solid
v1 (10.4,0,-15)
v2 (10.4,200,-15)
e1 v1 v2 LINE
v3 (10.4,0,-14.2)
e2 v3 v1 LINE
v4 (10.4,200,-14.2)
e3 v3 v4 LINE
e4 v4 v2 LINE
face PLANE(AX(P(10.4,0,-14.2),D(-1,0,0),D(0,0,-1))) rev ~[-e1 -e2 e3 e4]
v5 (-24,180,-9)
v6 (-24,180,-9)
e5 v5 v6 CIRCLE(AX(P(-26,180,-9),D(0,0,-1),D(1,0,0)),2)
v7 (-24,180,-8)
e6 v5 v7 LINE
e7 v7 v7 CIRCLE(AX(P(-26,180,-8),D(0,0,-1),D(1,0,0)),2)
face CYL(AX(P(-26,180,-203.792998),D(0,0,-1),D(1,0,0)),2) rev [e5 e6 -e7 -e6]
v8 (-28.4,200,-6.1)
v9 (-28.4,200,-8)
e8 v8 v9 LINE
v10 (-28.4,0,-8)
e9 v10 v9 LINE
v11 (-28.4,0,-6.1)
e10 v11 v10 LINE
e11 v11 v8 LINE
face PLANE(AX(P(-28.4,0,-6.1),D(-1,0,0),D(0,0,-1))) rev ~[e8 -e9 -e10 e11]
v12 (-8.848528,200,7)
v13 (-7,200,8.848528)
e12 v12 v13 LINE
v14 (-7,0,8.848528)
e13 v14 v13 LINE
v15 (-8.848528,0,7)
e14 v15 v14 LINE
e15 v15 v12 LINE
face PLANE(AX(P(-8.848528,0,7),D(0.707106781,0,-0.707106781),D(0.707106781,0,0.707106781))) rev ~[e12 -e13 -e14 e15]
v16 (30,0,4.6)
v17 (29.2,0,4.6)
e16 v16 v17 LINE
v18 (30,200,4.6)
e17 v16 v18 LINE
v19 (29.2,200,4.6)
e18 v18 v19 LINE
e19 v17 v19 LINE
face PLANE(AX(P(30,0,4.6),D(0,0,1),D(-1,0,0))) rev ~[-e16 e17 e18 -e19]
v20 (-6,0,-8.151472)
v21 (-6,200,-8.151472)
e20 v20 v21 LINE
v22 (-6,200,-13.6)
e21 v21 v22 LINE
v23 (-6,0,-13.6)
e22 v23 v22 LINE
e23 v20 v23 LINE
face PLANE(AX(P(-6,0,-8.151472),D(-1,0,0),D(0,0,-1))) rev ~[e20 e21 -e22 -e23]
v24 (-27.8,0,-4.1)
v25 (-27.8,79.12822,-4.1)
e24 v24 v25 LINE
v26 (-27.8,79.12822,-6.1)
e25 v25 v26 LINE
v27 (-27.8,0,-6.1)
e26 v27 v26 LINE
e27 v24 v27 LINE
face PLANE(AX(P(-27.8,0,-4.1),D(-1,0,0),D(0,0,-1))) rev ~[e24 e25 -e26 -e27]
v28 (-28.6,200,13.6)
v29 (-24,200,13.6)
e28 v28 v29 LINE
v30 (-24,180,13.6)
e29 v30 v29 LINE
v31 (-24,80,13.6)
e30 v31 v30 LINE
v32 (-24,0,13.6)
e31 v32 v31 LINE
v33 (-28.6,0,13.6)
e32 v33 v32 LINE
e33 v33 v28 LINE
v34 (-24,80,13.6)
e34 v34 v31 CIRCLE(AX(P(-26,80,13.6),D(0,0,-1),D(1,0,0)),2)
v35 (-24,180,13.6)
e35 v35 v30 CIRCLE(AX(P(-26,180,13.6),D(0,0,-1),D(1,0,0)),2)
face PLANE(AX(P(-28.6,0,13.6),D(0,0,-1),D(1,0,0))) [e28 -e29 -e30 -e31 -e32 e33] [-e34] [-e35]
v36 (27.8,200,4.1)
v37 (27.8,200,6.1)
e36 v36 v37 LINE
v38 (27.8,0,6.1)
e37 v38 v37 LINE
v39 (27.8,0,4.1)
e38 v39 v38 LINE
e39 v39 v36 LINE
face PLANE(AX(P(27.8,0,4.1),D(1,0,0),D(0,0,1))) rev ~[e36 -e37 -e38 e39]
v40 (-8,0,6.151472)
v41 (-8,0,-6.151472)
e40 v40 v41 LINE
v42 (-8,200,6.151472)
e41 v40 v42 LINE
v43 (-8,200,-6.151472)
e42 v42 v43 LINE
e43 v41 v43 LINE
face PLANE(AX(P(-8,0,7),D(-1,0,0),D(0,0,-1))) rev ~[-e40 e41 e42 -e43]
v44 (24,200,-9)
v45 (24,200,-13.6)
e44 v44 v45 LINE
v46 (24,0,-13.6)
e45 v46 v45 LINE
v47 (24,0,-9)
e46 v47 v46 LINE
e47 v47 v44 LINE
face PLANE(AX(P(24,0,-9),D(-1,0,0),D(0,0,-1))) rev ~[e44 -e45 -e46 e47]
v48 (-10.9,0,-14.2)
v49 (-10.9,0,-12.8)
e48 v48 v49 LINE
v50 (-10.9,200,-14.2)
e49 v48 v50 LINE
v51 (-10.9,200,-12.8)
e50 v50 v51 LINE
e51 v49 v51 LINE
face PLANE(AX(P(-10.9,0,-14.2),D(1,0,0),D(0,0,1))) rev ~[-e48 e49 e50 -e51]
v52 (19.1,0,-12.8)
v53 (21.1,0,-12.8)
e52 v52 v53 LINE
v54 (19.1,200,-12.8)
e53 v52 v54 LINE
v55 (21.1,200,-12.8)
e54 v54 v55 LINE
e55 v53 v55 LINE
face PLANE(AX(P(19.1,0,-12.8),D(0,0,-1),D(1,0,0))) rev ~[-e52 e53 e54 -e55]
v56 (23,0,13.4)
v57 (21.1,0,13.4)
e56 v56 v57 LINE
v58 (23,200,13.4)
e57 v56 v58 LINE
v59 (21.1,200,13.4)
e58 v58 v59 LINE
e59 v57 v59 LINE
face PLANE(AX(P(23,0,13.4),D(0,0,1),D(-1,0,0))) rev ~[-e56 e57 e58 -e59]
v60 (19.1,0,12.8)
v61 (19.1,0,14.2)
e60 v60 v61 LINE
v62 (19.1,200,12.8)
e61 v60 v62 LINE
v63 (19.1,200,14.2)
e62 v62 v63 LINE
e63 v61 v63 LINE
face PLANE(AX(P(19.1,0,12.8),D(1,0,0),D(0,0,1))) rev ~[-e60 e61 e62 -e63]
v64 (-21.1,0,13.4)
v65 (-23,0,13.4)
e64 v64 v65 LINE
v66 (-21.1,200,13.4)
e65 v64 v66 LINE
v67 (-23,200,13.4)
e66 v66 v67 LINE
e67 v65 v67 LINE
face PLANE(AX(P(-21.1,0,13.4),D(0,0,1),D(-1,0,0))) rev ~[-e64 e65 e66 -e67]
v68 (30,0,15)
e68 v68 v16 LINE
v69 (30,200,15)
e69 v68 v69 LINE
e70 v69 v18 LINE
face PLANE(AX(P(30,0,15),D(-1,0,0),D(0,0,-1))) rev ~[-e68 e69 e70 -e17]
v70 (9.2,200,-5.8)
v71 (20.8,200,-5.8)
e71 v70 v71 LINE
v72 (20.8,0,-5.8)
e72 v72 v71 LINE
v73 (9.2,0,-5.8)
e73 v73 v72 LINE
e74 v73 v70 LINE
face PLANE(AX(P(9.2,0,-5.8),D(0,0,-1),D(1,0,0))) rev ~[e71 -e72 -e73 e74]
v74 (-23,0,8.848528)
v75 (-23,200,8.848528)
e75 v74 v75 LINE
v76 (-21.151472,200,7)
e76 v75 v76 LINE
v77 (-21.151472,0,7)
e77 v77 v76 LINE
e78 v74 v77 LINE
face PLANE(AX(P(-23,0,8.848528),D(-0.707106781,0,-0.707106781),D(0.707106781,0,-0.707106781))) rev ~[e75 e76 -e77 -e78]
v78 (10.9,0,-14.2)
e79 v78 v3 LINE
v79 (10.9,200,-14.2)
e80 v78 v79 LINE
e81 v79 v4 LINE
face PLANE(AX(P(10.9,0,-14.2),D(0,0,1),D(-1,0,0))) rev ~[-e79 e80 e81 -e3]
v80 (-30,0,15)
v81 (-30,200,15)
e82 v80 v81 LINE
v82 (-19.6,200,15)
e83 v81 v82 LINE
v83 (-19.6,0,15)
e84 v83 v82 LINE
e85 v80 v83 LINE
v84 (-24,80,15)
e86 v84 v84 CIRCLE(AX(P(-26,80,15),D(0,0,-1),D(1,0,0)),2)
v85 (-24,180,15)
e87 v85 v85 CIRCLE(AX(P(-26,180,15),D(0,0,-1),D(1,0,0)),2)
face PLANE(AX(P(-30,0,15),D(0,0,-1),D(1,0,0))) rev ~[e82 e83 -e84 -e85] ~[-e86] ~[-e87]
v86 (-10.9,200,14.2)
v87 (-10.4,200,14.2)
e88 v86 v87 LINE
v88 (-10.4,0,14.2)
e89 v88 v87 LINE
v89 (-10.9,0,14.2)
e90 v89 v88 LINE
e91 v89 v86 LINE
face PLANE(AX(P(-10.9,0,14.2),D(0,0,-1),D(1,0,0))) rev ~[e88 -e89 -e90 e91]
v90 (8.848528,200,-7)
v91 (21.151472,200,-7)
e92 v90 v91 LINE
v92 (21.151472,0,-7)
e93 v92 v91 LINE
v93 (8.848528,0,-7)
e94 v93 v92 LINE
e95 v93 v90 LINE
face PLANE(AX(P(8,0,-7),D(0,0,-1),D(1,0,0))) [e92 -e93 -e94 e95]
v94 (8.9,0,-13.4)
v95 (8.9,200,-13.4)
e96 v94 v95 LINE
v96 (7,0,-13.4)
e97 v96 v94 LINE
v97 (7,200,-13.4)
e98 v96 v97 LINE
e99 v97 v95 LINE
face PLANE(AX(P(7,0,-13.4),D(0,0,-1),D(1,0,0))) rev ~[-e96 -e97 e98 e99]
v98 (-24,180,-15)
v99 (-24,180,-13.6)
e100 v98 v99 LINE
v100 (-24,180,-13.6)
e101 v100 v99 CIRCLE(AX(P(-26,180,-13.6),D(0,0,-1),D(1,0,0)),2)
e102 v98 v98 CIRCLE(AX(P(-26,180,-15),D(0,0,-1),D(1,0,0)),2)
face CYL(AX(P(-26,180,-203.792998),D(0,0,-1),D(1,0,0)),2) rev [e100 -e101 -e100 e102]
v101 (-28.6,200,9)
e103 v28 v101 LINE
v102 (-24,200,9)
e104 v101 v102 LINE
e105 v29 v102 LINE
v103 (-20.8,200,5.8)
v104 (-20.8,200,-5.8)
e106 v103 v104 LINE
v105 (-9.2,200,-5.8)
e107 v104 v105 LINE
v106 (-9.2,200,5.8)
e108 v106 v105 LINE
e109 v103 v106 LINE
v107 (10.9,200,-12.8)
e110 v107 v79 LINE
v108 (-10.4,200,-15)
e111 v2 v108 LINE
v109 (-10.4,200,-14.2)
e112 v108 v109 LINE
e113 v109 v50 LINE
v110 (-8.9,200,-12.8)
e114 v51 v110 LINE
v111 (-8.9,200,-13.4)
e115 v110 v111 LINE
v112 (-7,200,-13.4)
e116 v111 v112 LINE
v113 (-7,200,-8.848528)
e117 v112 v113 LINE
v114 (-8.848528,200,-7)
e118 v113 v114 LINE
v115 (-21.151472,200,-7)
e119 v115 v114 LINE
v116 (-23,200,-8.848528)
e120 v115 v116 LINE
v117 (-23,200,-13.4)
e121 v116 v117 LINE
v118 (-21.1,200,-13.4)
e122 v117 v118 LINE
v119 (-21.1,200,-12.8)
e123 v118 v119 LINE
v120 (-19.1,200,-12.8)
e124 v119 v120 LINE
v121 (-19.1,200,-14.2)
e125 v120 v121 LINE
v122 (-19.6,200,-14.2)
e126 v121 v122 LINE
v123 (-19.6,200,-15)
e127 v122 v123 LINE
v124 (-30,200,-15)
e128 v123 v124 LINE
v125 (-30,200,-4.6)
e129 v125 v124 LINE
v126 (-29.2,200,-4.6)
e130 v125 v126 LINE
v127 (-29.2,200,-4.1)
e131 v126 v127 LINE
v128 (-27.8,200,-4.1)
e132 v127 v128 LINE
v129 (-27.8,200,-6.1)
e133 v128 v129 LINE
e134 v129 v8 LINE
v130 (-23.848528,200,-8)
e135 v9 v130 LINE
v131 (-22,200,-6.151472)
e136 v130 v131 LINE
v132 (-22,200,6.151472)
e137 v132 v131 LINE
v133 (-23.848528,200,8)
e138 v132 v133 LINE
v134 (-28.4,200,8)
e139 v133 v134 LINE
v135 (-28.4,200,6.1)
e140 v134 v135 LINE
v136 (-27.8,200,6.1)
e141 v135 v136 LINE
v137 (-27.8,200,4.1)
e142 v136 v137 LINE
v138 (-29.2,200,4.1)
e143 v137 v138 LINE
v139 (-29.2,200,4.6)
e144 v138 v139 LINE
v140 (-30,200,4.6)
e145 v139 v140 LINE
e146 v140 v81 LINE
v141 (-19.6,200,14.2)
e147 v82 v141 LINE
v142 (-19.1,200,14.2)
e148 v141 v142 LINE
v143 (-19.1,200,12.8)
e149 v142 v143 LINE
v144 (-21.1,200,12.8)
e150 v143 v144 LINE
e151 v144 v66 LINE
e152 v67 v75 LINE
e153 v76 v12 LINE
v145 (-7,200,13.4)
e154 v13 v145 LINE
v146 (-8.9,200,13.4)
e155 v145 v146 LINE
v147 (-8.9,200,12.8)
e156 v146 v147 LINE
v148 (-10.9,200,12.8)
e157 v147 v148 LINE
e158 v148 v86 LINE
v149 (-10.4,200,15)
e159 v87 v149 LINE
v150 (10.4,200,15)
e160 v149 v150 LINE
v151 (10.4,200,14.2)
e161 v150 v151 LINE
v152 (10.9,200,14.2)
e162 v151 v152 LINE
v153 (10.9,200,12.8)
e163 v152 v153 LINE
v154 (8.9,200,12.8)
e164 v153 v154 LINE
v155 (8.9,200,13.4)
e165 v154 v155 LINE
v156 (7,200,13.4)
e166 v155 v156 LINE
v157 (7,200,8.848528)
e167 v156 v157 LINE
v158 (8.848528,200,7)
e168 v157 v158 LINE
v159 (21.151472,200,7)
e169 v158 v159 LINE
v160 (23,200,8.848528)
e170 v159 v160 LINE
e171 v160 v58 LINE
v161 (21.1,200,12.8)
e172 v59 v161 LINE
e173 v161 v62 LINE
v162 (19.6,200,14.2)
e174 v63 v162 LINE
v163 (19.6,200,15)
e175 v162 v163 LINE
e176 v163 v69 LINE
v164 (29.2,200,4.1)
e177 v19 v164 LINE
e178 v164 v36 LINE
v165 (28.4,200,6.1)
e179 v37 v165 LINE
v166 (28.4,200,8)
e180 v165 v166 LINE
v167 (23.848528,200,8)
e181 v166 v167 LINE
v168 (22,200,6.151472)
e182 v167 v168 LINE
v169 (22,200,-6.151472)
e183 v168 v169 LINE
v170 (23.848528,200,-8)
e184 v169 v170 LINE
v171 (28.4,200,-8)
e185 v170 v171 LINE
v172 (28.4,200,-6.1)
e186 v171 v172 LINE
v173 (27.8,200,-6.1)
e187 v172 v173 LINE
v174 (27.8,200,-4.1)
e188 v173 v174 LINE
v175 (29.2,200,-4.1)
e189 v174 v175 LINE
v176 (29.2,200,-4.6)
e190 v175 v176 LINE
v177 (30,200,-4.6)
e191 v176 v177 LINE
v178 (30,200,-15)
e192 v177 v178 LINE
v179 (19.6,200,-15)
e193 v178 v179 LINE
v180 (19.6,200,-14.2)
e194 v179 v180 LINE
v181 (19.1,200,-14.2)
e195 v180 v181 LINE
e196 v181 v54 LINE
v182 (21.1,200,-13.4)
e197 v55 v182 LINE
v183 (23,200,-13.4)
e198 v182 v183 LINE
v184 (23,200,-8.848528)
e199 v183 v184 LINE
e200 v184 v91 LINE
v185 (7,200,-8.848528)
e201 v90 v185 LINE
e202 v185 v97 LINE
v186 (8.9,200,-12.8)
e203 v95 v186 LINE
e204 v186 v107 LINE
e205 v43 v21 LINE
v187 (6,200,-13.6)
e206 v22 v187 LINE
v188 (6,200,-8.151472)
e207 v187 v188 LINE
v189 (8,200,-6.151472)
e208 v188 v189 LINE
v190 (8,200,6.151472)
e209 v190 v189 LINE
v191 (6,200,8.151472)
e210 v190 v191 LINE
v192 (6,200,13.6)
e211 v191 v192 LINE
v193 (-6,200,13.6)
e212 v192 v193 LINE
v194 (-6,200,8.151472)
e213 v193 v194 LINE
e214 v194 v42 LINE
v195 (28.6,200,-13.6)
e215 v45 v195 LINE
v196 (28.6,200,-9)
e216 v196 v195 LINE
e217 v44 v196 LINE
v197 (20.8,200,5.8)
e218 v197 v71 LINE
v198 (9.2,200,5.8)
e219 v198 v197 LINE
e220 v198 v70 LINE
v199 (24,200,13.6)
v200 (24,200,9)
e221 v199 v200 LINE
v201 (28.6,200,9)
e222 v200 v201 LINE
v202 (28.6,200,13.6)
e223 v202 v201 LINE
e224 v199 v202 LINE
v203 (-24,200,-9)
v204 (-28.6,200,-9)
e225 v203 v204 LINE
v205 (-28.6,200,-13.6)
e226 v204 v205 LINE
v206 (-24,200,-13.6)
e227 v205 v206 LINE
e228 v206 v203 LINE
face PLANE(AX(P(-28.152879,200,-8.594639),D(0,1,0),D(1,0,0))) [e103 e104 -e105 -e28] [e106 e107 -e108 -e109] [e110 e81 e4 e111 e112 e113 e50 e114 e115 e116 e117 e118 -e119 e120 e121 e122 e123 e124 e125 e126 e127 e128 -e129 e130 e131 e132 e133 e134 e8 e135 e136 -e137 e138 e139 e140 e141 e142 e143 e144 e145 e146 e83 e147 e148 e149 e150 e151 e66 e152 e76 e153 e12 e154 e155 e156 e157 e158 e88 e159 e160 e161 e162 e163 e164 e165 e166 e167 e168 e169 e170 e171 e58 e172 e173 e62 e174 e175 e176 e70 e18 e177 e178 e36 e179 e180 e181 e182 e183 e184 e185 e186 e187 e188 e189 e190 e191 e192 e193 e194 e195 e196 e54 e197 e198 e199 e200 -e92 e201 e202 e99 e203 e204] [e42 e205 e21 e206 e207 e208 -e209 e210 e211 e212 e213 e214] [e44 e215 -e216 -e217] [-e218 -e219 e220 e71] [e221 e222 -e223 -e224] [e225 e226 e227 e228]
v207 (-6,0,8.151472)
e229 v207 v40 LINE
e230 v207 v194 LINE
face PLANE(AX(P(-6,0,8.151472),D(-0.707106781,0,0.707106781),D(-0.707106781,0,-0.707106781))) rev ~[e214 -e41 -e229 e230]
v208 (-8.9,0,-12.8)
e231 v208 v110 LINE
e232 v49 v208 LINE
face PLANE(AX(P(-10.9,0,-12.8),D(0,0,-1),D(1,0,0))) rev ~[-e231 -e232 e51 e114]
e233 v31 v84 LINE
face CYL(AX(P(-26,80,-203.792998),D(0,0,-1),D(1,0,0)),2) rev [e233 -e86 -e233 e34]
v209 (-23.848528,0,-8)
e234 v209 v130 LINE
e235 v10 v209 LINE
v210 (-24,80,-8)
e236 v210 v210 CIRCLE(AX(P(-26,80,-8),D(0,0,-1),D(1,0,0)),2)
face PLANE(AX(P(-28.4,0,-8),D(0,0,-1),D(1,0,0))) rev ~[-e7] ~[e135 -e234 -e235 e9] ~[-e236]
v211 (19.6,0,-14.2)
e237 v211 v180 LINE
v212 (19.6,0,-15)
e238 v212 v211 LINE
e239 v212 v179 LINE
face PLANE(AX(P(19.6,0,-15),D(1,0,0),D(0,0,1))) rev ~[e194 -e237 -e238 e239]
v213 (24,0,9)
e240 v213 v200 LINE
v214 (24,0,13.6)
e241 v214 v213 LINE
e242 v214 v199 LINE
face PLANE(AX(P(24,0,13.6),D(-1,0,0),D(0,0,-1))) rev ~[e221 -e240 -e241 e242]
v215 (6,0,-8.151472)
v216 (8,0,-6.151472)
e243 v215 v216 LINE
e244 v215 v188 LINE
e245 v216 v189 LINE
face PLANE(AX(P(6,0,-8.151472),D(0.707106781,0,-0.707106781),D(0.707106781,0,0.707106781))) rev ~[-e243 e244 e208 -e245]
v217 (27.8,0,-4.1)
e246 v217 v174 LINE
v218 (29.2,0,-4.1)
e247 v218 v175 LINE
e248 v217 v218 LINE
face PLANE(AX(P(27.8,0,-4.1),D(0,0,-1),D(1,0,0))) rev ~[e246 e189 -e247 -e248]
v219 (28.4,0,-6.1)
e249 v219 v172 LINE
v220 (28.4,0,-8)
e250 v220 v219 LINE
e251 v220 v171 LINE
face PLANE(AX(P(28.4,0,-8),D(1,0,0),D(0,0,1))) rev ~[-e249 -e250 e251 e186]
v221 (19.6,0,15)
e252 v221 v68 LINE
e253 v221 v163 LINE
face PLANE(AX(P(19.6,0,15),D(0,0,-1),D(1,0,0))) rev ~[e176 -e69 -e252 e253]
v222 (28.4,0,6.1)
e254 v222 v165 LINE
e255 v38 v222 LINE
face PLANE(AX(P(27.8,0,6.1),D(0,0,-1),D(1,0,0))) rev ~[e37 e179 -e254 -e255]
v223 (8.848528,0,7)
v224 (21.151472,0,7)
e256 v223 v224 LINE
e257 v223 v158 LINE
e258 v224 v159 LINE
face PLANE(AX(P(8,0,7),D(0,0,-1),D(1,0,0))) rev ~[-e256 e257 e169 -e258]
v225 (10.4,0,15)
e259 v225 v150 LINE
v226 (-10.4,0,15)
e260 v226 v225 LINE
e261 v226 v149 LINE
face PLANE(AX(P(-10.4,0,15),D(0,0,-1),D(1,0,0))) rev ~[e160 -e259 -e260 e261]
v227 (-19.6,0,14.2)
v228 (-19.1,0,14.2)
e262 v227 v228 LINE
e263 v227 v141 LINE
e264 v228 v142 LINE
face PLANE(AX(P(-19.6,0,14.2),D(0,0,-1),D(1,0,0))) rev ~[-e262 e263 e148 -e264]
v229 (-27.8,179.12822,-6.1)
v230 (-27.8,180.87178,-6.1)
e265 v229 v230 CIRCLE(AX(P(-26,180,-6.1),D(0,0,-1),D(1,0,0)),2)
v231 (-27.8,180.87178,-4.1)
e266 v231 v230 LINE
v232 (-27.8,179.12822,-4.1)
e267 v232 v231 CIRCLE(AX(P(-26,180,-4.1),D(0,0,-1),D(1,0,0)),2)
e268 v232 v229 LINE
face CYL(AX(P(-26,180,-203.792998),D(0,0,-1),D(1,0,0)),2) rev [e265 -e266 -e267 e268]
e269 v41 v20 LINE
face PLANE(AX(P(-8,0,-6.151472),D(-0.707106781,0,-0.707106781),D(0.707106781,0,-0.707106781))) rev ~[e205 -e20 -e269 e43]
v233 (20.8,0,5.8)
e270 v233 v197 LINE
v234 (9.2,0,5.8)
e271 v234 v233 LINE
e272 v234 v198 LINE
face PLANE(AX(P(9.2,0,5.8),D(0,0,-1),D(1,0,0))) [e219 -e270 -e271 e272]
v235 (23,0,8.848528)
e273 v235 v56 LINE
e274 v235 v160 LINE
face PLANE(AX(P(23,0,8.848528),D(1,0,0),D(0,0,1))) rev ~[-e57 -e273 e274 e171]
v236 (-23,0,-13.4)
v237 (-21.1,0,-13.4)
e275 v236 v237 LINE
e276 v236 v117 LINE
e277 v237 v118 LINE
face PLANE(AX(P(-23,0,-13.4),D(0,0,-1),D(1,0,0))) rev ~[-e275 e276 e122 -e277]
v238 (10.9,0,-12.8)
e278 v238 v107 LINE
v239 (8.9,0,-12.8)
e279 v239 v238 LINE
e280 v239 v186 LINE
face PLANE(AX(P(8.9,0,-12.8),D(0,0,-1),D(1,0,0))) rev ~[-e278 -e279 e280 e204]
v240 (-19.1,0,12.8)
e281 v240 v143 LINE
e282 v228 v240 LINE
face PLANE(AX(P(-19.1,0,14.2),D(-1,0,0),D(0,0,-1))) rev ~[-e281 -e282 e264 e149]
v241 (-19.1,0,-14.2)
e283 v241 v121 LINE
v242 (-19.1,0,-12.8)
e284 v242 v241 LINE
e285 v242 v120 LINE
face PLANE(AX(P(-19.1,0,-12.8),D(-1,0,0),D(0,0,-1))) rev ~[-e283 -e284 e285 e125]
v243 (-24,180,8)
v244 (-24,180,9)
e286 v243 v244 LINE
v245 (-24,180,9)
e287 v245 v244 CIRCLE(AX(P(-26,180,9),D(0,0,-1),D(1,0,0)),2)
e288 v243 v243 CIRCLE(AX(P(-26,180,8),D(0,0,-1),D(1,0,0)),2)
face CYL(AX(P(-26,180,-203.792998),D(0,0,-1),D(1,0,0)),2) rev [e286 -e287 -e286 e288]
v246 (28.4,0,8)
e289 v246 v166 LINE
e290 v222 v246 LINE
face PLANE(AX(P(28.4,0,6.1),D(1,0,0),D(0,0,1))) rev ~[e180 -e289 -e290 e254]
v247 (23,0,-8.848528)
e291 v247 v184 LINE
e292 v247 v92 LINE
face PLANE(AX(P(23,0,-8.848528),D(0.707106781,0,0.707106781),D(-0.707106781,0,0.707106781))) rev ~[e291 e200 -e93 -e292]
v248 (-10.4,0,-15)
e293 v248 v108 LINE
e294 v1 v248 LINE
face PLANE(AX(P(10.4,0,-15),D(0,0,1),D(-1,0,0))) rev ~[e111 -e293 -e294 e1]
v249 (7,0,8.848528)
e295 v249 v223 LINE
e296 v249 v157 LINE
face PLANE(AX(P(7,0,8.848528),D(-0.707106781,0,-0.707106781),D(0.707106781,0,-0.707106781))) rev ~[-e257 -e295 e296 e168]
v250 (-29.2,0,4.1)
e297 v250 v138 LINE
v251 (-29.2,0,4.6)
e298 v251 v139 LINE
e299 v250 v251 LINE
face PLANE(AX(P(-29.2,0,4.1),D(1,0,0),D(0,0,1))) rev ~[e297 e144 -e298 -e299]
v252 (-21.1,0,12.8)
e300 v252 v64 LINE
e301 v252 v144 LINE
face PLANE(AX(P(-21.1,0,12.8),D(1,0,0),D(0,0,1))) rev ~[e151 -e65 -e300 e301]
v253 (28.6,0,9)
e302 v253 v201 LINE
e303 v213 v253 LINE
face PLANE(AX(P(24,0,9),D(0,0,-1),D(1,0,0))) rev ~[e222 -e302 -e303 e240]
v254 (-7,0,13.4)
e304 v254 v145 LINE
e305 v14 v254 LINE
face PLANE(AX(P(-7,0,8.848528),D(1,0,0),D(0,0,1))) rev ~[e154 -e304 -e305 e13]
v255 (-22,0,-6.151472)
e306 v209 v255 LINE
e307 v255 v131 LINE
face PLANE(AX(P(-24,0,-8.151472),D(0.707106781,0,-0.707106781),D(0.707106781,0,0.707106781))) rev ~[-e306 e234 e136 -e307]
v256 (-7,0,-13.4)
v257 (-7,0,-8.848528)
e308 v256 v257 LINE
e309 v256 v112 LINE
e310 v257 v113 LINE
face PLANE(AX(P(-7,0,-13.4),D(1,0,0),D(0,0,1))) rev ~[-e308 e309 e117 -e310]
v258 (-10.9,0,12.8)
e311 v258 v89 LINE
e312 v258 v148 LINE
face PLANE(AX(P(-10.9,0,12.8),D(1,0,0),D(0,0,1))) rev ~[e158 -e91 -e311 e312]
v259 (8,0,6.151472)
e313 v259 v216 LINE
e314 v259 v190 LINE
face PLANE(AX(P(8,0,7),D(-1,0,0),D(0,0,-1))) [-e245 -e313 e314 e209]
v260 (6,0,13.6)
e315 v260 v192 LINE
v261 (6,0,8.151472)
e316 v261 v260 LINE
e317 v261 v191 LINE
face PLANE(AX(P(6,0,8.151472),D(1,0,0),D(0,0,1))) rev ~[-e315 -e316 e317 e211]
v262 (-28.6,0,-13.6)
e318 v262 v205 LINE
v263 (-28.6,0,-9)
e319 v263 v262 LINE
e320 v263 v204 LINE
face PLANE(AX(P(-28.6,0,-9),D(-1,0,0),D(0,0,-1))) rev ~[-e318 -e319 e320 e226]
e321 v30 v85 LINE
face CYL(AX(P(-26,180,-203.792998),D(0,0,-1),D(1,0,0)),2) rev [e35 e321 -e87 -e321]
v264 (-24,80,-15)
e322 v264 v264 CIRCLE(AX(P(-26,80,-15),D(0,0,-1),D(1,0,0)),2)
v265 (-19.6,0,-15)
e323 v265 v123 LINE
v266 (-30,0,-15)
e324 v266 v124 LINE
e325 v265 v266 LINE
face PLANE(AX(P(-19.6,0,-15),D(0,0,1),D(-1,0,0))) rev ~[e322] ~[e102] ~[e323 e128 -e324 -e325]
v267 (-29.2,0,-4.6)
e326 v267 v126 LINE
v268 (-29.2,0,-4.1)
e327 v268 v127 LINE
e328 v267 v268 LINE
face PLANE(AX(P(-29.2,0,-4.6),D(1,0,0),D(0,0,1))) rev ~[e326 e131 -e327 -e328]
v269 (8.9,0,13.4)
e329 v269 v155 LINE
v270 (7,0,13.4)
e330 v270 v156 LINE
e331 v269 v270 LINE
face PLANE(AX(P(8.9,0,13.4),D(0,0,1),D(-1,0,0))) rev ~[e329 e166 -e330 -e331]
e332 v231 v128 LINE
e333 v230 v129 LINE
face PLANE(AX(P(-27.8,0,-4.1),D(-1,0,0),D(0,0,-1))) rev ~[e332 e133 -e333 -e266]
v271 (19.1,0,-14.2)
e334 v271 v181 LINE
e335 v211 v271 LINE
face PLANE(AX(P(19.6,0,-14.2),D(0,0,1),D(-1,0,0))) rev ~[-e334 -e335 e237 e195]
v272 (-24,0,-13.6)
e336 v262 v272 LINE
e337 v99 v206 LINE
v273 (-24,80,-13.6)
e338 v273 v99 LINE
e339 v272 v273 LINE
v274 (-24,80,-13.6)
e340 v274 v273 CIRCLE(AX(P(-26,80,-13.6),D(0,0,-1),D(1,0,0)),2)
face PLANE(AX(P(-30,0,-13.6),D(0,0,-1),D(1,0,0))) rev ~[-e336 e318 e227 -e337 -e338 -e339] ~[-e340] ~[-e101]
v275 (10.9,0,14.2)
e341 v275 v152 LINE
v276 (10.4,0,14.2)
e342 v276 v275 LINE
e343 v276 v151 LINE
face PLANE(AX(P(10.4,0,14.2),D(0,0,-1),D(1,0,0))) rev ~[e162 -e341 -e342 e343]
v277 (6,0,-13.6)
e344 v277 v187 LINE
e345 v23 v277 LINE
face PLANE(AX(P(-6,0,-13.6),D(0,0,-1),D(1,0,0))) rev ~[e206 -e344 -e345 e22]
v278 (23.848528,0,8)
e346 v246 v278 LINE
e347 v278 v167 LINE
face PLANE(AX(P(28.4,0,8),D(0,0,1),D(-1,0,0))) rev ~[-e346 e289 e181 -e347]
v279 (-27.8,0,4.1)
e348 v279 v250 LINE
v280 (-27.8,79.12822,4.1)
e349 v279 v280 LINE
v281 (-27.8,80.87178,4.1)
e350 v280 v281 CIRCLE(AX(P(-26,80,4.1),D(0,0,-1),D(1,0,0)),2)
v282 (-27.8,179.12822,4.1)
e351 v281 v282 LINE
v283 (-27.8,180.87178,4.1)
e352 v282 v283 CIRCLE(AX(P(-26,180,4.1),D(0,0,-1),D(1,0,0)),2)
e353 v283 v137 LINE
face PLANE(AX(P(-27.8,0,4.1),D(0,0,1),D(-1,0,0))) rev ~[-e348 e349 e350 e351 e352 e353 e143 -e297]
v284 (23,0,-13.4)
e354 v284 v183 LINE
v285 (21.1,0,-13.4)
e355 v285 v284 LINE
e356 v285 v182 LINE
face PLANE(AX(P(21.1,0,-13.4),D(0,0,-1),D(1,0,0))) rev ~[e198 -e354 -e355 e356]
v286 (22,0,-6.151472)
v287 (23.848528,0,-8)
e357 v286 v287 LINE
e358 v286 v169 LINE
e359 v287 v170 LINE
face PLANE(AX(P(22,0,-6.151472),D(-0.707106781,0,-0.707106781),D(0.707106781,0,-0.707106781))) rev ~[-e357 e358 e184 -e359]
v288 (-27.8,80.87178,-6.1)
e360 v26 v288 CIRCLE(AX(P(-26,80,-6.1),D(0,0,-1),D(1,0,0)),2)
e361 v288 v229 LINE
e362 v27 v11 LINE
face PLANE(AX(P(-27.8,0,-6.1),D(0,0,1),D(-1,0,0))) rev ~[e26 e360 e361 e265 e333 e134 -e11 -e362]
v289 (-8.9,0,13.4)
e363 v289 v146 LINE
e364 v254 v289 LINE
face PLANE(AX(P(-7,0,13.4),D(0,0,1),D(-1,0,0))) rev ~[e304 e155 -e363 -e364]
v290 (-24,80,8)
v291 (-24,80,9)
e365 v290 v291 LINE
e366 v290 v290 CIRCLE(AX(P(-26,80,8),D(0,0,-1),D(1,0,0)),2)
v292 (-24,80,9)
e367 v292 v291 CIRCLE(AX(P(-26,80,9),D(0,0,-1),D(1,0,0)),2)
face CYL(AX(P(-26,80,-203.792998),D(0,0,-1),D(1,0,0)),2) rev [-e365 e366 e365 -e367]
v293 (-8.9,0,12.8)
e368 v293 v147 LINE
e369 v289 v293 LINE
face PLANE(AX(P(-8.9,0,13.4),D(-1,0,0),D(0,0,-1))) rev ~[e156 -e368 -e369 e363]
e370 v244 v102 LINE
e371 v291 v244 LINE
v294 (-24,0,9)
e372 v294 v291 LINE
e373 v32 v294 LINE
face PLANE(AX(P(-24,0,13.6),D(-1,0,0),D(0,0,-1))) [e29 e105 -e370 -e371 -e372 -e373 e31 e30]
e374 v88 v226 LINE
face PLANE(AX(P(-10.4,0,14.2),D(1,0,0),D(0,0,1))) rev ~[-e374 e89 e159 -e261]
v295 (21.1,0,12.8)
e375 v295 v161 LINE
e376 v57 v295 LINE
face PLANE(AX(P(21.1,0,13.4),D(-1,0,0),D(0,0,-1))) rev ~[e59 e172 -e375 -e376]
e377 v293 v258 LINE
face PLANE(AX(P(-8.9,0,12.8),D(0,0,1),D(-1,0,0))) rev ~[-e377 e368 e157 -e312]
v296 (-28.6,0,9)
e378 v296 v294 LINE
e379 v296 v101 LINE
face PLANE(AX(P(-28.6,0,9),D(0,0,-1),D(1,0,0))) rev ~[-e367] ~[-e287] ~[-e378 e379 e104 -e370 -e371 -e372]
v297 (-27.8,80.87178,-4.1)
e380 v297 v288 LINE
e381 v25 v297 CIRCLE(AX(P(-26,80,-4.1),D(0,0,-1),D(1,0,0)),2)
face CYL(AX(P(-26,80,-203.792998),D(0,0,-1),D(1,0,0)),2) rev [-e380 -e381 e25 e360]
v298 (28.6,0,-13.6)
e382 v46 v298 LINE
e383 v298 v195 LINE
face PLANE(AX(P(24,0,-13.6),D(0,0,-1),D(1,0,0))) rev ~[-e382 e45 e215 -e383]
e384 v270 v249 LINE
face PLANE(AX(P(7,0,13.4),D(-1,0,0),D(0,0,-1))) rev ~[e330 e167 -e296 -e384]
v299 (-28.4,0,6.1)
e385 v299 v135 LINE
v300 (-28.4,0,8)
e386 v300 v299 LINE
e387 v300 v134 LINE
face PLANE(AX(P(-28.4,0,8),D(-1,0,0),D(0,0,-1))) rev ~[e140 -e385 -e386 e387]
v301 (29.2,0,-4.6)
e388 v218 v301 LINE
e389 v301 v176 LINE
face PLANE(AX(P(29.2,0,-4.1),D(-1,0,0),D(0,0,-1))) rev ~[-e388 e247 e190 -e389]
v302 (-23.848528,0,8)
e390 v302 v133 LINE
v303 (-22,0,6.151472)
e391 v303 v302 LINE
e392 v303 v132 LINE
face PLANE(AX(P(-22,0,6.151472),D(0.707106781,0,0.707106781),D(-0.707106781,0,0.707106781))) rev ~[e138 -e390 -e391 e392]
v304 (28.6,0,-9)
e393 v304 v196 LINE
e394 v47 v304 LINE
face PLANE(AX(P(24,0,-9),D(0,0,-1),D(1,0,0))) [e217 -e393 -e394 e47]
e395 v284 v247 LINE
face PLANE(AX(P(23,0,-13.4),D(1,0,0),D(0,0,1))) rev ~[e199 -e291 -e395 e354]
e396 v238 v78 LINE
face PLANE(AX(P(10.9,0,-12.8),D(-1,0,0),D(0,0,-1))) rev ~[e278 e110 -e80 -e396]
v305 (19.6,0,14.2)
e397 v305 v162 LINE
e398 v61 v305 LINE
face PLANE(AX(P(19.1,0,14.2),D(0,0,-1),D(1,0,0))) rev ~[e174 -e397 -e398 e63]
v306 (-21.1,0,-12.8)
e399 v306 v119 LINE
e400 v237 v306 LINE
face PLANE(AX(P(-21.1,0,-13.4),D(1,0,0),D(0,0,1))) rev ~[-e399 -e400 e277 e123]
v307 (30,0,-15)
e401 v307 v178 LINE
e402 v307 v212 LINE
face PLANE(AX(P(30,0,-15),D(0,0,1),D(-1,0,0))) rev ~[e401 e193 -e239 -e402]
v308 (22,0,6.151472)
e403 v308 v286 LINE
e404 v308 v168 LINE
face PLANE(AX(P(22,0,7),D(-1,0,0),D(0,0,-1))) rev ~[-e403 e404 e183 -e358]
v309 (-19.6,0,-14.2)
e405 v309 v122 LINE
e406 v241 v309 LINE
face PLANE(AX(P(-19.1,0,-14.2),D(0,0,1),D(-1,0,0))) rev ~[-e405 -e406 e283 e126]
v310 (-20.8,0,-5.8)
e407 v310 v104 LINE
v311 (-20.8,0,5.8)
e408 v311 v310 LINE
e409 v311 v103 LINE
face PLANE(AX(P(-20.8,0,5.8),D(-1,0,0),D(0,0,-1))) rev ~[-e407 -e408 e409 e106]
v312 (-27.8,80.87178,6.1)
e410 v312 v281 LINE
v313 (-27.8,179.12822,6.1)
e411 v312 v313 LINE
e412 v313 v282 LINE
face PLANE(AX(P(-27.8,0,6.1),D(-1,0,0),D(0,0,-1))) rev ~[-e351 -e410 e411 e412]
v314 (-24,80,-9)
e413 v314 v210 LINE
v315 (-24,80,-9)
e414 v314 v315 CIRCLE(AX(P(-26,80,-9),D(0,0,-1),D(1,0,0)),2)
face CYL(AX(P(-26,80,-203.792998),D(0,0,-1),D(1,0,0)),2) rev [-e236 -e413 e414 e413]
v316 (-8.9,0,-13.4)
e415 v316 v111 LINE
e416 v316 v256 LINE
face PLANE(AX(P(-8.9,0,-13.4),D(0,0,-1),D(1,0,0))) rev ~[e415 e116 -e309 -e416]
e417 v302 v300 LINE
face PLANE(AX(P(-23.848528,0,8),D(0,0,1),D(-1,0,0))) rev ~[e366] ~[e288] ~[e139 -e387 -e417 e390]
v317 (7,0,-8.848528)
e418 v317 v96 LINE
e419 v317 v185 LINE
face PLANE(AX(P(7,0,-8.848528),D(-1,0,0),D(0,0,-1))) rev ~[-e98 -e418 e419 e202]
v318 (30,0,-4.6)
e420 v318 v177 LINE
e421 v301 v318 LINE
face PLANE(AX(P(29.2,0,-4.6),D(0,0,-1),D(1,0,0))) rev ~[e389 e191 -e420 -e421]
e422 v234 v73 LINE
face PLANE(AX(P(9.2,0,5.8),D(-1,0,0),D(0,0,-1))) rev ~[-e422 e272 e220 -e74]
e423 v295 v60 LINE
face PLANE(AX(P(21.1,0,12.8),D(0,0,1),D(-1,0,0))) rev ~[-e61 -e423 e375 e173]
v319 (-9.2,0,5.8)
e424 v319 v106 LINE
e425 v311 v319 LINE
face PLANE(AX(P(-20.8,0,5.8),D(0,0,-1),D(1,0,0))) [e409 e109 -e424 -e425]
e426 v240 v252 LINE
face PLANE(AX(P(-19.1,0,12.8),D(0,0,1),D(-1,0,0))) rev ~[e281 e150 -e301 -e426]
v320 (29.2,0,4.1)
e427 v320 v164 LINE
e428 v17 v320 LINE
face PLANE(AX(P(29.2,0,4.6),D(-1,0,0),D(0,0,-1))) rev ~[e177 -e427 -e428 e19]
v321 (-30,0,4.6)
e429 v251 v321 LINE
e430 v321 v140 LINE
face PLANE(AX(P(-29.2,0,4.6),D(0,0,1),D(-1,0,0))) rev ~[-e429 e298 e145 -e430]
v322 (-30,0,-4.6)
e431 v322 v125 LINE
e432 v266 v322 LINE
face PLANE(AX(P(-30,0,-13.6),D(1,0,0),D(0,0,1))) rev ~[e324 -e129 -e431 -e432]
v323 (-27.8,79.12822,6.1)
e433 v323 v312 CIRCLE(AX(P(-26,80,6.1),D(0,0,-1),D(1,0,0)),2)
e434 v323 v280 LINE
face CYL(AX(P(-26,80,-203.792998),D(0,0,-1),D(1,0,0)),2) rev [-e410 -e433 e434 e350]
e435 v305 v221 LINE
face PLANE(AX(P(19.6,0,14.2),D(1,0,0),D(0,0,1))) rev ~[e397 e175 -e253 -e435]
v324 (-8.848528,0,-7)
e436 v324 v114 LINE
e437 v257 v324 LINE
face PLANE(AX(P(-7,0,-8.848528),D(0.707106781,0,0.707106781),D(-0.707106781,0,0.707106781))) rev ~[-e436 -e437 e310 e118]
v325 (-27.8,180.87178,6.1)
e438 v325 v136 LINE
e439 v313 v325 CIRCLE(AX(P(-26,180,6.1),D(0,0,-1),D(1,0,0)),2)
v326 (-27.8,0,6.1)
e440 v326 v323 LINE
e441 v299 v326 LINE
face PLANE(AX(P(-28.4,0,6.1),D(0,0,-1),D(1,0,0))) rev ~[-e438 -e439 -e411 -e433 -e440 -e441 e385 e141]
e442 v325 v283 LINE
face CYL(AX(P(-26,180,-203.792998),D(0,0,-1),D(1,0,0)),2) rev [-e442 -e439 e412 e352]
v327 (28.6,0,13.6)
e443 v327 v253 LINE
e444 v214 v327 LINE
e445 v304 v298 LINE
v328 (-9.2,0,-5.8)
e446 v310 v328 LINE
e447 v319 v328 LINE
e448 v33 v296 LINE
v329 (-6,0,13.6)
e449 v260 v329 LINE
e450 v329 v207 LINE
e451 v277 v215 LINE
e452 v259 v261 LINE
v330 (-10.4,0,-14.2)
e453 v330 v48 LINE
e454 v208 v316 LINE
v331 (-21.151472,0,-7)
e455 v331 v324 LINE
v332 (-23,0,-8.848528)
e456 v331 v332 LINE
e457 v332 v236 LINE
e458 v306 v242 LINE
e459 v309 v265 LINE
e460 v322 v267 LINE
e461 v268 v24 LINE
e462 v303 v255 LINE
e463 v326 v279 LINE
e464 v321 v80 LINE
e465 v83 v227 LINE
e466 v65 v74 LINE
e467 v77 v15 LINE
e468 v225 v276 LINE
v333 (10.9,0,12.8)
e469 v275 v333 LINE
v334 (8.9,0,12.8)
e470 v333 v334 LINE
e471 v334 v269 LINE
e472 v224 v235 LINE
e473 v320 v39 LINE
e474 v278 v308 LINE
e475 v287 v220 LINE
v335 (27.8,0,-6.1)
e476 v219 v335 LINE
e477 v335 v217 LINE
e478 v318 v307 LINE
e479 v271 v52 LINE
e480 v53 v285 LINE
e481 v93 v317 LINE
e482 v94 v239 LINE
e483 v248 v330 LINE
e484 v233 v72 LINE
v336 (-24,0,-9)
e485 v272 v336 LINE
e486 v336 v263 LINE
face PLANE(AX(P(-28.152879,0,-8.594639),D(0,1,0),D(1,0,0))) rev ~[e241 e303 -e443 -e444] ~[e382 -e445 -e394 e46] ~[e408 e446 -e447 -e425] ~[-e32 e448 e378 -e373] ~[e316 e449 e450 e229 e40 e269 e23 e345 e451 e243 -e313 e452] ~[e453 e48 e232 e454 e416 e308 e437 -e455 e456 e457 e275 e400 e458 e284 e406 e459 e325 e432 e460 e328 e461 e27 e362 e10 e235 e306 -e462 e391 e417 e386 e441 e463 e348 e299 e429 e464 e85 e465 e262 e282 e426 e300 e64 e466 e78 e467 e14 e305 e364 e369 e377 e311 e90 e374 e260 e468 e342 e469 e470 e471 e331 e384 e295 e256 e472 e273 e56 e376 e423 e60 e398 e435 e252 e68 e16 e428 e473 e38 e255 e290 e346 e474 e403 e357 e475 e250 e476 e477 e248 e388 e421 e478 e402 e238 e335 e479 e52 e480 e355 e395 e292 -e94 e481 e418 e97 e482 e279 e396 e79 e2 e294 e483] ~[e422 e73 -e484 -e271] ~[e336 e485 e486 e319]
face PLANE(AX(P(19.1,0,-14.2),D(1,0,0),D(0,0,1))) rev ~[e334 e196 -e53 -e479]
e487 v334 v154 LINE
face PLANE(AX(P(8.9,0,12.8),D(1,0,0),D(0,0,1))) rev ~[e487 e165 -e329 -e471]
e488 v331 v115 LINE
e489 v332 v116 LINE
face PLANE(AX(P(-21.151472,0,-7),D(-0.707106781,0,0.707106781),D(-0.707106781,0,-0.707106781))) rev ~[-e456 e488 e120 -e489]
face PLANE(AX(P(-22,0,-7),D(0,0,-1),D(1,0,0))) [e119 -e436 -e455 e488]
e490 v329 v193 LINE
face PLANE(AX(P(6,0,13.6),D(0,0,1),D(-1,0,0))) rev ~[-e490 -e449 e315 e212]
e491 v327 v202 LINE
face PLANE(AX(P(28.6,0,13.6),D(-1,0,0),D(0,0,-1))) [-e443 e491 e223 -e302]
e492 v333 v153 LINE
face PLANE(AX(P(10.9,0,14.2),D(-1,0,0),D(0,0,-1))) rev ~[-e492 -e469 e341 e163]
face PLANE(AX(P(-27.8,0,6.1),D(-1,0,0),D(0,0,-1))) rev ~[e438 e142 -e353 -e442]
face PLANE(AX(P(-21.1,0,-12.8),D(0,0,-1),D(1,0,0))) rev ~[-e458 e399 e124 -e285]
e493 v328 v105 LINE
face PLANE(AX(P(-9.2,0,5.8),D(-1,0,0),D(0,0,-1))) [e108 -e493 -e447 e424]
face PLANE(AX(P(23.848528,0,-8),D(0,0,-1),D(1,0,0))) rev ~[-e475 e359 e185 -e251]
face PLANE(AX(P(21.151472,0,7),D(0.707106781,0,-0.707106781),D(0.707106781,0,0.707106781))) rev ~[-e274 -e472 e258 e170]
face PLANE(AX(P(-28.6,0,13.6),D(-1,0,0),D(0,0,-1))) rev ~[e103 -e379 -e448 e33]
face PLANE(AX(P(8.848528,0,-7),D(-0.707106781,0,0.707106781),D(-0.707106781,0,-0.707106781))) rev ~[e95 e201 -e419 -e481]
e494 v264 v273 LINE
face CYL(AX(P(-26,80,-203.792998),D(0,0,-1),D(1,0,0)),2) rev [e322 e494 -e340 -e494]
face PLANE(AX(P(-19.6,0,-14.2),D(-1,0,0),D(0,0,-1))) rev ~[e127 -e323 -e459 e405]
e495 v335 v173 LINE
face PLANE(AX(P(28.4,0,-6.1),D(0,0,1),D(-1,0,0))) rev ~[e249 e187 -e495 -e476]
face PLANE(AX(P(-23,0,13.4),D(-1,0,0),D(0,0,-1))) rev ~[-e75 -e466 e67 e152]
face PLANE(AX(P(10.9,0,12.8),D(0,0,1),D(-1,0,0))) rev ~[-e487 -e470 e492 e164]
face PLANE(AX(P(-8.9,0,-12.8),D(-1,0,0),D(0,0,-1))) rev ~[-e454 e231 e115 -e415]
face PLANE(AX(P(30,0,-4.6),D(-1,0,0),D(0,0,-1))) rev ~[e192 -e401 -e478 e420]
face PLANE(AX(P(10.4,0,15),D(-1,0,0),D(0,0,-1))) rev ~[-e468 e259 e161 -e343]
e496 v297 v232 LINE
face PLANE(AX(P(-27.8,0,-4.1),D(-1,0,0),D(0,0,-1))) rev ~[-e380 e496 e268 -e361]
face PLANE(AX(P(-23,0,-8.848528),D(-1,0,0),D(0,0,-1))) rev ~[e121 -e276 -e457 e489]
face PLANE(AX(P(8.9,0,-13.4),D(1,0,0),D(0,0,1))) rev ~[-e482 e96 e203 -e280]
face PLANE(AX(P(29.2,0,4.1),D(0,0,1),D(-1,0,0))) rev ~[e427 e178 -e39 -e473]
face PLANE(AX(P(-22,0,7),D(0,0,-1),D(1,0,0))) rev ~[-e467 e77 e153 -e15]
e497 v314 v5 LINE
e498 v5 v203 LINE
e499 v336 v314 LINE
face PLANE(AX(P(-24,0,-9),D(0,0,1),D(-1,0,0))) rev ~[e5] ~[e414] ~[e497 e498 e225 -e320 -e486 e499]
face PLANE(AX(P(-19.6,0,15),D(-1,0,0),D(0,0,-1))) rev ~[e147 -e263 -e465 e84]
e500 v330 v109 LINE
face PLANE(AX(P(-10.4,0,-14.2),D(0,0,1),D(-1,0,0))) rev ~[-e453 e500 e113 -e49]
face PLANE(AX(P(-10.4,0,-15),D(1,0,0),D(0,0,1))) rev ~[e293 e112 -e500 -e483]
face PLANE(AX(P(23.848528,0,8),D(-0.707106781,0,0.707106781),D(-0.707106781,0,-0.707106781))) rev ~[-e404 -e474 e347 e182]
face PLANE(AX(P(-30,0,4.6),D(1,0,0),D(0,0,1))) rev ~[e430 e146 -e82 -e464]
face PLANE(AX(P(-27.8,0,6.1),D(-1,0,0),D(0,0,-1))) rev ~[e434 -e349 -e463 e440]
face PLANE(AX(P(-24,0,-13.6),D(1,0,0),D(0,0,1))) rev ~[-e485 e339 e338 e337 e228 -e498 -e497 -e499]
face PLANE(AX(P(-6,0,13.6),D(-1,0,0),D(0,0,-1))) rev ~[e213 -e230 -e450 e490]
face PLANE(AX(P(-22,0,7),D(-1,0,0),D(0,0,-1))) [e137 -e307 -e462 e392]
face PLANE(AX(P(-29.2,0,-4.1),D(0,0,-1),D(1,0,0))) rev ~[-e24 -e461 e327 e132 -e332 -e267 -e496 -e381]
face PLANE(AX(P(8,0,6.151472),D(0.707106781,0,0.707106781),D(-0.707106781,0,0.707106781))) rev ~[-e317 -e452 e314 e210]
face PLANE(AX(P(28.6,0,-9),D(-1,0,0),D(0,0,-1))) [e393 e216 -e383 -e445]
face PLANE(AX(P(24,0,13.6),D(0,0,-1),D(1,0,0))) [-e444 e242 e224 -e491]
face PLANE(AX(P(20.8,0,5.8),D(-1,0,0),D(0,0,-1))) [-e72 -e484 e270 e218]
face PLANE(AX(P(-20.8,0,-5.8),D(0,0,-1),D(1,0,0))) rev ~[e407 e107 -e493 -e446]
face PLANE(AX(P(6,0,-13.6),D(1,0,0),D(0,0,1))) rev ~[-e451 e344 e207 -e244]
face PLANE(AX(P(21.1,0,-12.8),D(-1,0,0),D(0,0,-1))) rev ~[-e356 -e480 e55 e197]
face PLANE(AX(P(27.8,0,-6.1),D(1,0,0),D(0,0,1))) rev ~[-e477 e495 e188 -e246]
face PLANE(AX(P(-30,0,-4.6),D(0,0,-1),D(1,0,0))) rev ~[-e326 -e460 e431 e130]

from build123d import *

# Parameters (mm, degrees)
SKETCH_1_W               = 14
SKETCH_1_H               = 14
SKETCH_1_W_2             = 11.6
SKETCH_1_H_2             = 11.6
SKETCH_1_W_3             = 4.6
SKETCH_1_H_3             = 4.6
EXTRUDE_2_DEPTH          = 200
CUT_EXTRUDE_1_DEPTH      = 203.792997907
CUT_EXTRUDE_1_DEPTH_BACK = 203.792997907
SKETCH_2_R               = 2


with BuildPart() as part:
    # Эскиз1 → Бобышка-Вытянуть2 (new body)
    # profile 1 of 9: a face of its own
    with BuildSketch(Plane(origin=(0, 0, 0), x_dir=(1, 0, 0), z_dir=(0, 1, 0))):
        Polygon((8, -7), (8, -6.151471863), (6, -8.151471863), (6, -13.6), (-6, -13.6), (-6, -8.151471863), (-8, -6.151471863), (-8, -7), (-8.848528137, -7), (-7, -8.848528137), (-7, -13.4), (-8.9, -13.4), (-8.9, -12.8), (-10.9, -12.8), (-10.9, -14.2), (-10.4, -14.2), (-10.4, -15), (10.4, -15), (10.4, -14.2), (10.9, -14.2), (10.9, -12.8), (8.9, -12.8), (8.9, -13.4), (7, -13.4), (7, -8.848528137), (8.848528137, -7), align=None)
    # profile 2 of 9: a face of its own
    with BuildSketch(Plane(origin=(0, 0, 0), x_dir=(1, 0, 0), z_dir=(0, 1, 0))):
        with Locations((-15, 0)):
            Rectangle(SKETCH_1_W, SKETCH_1_H)
        with Locations((-15, 0)):
            Rectangle(SKETCH_1_W_2, SKETCH_1_H_2, mode=Mode.SUBTRACT)
    # profile 3 of 9: a face of its own
    with BuildSketch(Plane(origin=(0, 0, 0), x_dir=(1, 0, 0), z_dir=(0, 1, 0))):
        Polygon((-23, -8.848528137), (-21.151471863, -7), (-22, -7), (-22, -6.151471863), (-23.848528137, -8), (-28.4, -8), (-28.4, -6.1), (-27.8, -6.1), (-27.8, -4.1), (-29.2, -4.1), (-29.2, -4.6), (-30, -4.6), (-30, -15), (-19.6, -15), (-19.6, -14.2), (-19.1, -14.2), (-19.1, -12.8), (-21.1, -12.8), (-21.1, -13.4), (-23, -13.4), align=None)
        with Locations((-26.3, -11.3)):
            Rectangle(SKETCH_1_W_3, SKETCH_1_H_3, mode=Mode.SUBTRACT)
    # profile 4 of 9: a face of its own
    with BuildSketch(Plane(origin=(0, 0, 0), x_dir=(1, 0, 0), z_dir=(0, 1, 0))):
        with Locations((15, 0)):
            Rectangle(SKETCH_1_W, SKETCH_1_H)
        with Locations((15, 0)):
            Rectangle(SKETCH_1_W_2, SKETCH_1_H_2, mode=Mode.SUBTRACT)
    # profile 5 of 9: a face of its own
    with BuildSketch(Plane(origin=(0, 0, 0), x_dir=(1, 0, 0), z_dir=(0, 1, 0))):
        Polygon((23.848528137, -8), (22, -6.151471863), (22, -7), (21.151471863, -7), (23, -8.848528137), (23, -13.4), (21.1, -13.4), (21.1, -12.8), (19.1, -12.8), (19.1, -14.2), (19.6, -14.2), (19.6, -15), (30, -15), (30, -4.6), (29.2, -4.6), (29.2, -4.1), (27.8, -4.1), (27.8, -6.1), (28.4, -6.1), (28.4, -8), align=None)
        with Locations((26.3, -11.3)):
            Rectangle(SKETCH_1_W_3, SKETCH_1_H_3, mode=Mode.SUBTRACT)
    # profile 6 of 9: a face of its own
    with BuildSketch(Plane(origin=(0, 0, 0), x_dir=(1, 0, 0), z_dir=(0, 1, 0))):
        Polygon((21.151471863, 7), (22, 7), (22, 6.151471863), (23.848528137, 8), (28.4, 8), (28.4, 6.1), (27.8, 6.1), (27.8, 4.1), (29.2, 4.1), (29.2, 4.6), (30, 4.6), (30, 15), (19.6, 15), (19.6, 14.2), (19.1, 14.2), (19.1, 12.8), (21.1, 12.8), (21.1, 13.4), (23, 13.4), (23, 8.848528137), align=None)
        with Locations((26.3, 11.3)):
            Rectangle(SKETCH_1_W_3, SKETCH_1_H_3, mode=Mode.SUBTRACT)
    # profile 7 of 9: a face of its own
    with BuildSketch(Plane(origin=(0, 0, 0), x_dir=(1, 0, 0), z_dir=(0, 1, 0))):
        Polygon((8, 7), (8.848528137, 7), (7, 8.848528137), (7, 13.4), (8.9, 13.4), (8.9, 12.8), (10.9, 12.8), (10.9, 14.2), (10.4, 14.2), (10.4, 15), (-10.4, 15), (-10.4, 14.2), (-10.9, 14.2), (-10.9, 12.8), (-8.9, 12.8), (-8.9, 13.4), (-7, 13.4), (-7, 8.848528137), (-8.848528137, 7), (-8, 7), (-8, 6.151471863), (-6, 8.151471863), (-6, 13.6), (6, 13.6), (6, 8.151471863), (8, 6.151471863), align=None)
    # profile 8 of 9: a face of its own
    with BuildSketch(Plane(origin=(0, 0, 0), x_dir=(1, 0, 0), z_dir=(0, 1, 0))):
        Polygon((-22, 7), (-21.151471863, 7), (-23, 8.848528137), (-23, 13.4), (-21.1, 13.4), (-21.1, 12.8), (-19.1, 12.8), (-19.1, 14.2), (-19.6, 14.2), (-19.6, 15), (-30, 15), (-30, 13.6), (-28.6, 13.6), (-24, 13.6), (-24, 9), (-24, 8.151471863), (-23.848528137, 8), (-22, 6.151471863), align=None)
    # profile 9 of 9: a face of its own
    with BuildSketch(Plane(origin=(0, 0, 0), x_dir=(1, 0, 0), z_dir=(0, 1, 0))):
        Polygon((-28.6, 13.6), (-30, 13.6), (-30, 4.6), (-29.2, 4.6), (-29.2, 4.1), (-27.8, 4.1), (-27.8, 6.1), (-28.4, 6.1), (-28.4, 8), (-23.848528137, 8), (-24, 8.151471863), (-24, 9), (-28.6, 9), align=None)
    extrude(amount=EXTRUDE_2_DEPTH)

    # Эскиз2 → Вырез-Вытянуть1 (cut, two sides: drawn at the far end of the back side and taken through both)
    with BuildSketch(Plane.XY.offset(-CUT_EXTRUDE_1_DEPTH_BACK)):
        with Locations((-26, 180)):
            Circle(SKETCH_2_R)
        with Locations((-26, 80)):
            Circle(SKETCH_2_R)
    extrude(amount=CUT_EXTRUDE_1_DEPTH + CUT_EXTRUDE_1_DEPTH_BACK, mode=Mode.SUBTRACT)


solid = part.part
